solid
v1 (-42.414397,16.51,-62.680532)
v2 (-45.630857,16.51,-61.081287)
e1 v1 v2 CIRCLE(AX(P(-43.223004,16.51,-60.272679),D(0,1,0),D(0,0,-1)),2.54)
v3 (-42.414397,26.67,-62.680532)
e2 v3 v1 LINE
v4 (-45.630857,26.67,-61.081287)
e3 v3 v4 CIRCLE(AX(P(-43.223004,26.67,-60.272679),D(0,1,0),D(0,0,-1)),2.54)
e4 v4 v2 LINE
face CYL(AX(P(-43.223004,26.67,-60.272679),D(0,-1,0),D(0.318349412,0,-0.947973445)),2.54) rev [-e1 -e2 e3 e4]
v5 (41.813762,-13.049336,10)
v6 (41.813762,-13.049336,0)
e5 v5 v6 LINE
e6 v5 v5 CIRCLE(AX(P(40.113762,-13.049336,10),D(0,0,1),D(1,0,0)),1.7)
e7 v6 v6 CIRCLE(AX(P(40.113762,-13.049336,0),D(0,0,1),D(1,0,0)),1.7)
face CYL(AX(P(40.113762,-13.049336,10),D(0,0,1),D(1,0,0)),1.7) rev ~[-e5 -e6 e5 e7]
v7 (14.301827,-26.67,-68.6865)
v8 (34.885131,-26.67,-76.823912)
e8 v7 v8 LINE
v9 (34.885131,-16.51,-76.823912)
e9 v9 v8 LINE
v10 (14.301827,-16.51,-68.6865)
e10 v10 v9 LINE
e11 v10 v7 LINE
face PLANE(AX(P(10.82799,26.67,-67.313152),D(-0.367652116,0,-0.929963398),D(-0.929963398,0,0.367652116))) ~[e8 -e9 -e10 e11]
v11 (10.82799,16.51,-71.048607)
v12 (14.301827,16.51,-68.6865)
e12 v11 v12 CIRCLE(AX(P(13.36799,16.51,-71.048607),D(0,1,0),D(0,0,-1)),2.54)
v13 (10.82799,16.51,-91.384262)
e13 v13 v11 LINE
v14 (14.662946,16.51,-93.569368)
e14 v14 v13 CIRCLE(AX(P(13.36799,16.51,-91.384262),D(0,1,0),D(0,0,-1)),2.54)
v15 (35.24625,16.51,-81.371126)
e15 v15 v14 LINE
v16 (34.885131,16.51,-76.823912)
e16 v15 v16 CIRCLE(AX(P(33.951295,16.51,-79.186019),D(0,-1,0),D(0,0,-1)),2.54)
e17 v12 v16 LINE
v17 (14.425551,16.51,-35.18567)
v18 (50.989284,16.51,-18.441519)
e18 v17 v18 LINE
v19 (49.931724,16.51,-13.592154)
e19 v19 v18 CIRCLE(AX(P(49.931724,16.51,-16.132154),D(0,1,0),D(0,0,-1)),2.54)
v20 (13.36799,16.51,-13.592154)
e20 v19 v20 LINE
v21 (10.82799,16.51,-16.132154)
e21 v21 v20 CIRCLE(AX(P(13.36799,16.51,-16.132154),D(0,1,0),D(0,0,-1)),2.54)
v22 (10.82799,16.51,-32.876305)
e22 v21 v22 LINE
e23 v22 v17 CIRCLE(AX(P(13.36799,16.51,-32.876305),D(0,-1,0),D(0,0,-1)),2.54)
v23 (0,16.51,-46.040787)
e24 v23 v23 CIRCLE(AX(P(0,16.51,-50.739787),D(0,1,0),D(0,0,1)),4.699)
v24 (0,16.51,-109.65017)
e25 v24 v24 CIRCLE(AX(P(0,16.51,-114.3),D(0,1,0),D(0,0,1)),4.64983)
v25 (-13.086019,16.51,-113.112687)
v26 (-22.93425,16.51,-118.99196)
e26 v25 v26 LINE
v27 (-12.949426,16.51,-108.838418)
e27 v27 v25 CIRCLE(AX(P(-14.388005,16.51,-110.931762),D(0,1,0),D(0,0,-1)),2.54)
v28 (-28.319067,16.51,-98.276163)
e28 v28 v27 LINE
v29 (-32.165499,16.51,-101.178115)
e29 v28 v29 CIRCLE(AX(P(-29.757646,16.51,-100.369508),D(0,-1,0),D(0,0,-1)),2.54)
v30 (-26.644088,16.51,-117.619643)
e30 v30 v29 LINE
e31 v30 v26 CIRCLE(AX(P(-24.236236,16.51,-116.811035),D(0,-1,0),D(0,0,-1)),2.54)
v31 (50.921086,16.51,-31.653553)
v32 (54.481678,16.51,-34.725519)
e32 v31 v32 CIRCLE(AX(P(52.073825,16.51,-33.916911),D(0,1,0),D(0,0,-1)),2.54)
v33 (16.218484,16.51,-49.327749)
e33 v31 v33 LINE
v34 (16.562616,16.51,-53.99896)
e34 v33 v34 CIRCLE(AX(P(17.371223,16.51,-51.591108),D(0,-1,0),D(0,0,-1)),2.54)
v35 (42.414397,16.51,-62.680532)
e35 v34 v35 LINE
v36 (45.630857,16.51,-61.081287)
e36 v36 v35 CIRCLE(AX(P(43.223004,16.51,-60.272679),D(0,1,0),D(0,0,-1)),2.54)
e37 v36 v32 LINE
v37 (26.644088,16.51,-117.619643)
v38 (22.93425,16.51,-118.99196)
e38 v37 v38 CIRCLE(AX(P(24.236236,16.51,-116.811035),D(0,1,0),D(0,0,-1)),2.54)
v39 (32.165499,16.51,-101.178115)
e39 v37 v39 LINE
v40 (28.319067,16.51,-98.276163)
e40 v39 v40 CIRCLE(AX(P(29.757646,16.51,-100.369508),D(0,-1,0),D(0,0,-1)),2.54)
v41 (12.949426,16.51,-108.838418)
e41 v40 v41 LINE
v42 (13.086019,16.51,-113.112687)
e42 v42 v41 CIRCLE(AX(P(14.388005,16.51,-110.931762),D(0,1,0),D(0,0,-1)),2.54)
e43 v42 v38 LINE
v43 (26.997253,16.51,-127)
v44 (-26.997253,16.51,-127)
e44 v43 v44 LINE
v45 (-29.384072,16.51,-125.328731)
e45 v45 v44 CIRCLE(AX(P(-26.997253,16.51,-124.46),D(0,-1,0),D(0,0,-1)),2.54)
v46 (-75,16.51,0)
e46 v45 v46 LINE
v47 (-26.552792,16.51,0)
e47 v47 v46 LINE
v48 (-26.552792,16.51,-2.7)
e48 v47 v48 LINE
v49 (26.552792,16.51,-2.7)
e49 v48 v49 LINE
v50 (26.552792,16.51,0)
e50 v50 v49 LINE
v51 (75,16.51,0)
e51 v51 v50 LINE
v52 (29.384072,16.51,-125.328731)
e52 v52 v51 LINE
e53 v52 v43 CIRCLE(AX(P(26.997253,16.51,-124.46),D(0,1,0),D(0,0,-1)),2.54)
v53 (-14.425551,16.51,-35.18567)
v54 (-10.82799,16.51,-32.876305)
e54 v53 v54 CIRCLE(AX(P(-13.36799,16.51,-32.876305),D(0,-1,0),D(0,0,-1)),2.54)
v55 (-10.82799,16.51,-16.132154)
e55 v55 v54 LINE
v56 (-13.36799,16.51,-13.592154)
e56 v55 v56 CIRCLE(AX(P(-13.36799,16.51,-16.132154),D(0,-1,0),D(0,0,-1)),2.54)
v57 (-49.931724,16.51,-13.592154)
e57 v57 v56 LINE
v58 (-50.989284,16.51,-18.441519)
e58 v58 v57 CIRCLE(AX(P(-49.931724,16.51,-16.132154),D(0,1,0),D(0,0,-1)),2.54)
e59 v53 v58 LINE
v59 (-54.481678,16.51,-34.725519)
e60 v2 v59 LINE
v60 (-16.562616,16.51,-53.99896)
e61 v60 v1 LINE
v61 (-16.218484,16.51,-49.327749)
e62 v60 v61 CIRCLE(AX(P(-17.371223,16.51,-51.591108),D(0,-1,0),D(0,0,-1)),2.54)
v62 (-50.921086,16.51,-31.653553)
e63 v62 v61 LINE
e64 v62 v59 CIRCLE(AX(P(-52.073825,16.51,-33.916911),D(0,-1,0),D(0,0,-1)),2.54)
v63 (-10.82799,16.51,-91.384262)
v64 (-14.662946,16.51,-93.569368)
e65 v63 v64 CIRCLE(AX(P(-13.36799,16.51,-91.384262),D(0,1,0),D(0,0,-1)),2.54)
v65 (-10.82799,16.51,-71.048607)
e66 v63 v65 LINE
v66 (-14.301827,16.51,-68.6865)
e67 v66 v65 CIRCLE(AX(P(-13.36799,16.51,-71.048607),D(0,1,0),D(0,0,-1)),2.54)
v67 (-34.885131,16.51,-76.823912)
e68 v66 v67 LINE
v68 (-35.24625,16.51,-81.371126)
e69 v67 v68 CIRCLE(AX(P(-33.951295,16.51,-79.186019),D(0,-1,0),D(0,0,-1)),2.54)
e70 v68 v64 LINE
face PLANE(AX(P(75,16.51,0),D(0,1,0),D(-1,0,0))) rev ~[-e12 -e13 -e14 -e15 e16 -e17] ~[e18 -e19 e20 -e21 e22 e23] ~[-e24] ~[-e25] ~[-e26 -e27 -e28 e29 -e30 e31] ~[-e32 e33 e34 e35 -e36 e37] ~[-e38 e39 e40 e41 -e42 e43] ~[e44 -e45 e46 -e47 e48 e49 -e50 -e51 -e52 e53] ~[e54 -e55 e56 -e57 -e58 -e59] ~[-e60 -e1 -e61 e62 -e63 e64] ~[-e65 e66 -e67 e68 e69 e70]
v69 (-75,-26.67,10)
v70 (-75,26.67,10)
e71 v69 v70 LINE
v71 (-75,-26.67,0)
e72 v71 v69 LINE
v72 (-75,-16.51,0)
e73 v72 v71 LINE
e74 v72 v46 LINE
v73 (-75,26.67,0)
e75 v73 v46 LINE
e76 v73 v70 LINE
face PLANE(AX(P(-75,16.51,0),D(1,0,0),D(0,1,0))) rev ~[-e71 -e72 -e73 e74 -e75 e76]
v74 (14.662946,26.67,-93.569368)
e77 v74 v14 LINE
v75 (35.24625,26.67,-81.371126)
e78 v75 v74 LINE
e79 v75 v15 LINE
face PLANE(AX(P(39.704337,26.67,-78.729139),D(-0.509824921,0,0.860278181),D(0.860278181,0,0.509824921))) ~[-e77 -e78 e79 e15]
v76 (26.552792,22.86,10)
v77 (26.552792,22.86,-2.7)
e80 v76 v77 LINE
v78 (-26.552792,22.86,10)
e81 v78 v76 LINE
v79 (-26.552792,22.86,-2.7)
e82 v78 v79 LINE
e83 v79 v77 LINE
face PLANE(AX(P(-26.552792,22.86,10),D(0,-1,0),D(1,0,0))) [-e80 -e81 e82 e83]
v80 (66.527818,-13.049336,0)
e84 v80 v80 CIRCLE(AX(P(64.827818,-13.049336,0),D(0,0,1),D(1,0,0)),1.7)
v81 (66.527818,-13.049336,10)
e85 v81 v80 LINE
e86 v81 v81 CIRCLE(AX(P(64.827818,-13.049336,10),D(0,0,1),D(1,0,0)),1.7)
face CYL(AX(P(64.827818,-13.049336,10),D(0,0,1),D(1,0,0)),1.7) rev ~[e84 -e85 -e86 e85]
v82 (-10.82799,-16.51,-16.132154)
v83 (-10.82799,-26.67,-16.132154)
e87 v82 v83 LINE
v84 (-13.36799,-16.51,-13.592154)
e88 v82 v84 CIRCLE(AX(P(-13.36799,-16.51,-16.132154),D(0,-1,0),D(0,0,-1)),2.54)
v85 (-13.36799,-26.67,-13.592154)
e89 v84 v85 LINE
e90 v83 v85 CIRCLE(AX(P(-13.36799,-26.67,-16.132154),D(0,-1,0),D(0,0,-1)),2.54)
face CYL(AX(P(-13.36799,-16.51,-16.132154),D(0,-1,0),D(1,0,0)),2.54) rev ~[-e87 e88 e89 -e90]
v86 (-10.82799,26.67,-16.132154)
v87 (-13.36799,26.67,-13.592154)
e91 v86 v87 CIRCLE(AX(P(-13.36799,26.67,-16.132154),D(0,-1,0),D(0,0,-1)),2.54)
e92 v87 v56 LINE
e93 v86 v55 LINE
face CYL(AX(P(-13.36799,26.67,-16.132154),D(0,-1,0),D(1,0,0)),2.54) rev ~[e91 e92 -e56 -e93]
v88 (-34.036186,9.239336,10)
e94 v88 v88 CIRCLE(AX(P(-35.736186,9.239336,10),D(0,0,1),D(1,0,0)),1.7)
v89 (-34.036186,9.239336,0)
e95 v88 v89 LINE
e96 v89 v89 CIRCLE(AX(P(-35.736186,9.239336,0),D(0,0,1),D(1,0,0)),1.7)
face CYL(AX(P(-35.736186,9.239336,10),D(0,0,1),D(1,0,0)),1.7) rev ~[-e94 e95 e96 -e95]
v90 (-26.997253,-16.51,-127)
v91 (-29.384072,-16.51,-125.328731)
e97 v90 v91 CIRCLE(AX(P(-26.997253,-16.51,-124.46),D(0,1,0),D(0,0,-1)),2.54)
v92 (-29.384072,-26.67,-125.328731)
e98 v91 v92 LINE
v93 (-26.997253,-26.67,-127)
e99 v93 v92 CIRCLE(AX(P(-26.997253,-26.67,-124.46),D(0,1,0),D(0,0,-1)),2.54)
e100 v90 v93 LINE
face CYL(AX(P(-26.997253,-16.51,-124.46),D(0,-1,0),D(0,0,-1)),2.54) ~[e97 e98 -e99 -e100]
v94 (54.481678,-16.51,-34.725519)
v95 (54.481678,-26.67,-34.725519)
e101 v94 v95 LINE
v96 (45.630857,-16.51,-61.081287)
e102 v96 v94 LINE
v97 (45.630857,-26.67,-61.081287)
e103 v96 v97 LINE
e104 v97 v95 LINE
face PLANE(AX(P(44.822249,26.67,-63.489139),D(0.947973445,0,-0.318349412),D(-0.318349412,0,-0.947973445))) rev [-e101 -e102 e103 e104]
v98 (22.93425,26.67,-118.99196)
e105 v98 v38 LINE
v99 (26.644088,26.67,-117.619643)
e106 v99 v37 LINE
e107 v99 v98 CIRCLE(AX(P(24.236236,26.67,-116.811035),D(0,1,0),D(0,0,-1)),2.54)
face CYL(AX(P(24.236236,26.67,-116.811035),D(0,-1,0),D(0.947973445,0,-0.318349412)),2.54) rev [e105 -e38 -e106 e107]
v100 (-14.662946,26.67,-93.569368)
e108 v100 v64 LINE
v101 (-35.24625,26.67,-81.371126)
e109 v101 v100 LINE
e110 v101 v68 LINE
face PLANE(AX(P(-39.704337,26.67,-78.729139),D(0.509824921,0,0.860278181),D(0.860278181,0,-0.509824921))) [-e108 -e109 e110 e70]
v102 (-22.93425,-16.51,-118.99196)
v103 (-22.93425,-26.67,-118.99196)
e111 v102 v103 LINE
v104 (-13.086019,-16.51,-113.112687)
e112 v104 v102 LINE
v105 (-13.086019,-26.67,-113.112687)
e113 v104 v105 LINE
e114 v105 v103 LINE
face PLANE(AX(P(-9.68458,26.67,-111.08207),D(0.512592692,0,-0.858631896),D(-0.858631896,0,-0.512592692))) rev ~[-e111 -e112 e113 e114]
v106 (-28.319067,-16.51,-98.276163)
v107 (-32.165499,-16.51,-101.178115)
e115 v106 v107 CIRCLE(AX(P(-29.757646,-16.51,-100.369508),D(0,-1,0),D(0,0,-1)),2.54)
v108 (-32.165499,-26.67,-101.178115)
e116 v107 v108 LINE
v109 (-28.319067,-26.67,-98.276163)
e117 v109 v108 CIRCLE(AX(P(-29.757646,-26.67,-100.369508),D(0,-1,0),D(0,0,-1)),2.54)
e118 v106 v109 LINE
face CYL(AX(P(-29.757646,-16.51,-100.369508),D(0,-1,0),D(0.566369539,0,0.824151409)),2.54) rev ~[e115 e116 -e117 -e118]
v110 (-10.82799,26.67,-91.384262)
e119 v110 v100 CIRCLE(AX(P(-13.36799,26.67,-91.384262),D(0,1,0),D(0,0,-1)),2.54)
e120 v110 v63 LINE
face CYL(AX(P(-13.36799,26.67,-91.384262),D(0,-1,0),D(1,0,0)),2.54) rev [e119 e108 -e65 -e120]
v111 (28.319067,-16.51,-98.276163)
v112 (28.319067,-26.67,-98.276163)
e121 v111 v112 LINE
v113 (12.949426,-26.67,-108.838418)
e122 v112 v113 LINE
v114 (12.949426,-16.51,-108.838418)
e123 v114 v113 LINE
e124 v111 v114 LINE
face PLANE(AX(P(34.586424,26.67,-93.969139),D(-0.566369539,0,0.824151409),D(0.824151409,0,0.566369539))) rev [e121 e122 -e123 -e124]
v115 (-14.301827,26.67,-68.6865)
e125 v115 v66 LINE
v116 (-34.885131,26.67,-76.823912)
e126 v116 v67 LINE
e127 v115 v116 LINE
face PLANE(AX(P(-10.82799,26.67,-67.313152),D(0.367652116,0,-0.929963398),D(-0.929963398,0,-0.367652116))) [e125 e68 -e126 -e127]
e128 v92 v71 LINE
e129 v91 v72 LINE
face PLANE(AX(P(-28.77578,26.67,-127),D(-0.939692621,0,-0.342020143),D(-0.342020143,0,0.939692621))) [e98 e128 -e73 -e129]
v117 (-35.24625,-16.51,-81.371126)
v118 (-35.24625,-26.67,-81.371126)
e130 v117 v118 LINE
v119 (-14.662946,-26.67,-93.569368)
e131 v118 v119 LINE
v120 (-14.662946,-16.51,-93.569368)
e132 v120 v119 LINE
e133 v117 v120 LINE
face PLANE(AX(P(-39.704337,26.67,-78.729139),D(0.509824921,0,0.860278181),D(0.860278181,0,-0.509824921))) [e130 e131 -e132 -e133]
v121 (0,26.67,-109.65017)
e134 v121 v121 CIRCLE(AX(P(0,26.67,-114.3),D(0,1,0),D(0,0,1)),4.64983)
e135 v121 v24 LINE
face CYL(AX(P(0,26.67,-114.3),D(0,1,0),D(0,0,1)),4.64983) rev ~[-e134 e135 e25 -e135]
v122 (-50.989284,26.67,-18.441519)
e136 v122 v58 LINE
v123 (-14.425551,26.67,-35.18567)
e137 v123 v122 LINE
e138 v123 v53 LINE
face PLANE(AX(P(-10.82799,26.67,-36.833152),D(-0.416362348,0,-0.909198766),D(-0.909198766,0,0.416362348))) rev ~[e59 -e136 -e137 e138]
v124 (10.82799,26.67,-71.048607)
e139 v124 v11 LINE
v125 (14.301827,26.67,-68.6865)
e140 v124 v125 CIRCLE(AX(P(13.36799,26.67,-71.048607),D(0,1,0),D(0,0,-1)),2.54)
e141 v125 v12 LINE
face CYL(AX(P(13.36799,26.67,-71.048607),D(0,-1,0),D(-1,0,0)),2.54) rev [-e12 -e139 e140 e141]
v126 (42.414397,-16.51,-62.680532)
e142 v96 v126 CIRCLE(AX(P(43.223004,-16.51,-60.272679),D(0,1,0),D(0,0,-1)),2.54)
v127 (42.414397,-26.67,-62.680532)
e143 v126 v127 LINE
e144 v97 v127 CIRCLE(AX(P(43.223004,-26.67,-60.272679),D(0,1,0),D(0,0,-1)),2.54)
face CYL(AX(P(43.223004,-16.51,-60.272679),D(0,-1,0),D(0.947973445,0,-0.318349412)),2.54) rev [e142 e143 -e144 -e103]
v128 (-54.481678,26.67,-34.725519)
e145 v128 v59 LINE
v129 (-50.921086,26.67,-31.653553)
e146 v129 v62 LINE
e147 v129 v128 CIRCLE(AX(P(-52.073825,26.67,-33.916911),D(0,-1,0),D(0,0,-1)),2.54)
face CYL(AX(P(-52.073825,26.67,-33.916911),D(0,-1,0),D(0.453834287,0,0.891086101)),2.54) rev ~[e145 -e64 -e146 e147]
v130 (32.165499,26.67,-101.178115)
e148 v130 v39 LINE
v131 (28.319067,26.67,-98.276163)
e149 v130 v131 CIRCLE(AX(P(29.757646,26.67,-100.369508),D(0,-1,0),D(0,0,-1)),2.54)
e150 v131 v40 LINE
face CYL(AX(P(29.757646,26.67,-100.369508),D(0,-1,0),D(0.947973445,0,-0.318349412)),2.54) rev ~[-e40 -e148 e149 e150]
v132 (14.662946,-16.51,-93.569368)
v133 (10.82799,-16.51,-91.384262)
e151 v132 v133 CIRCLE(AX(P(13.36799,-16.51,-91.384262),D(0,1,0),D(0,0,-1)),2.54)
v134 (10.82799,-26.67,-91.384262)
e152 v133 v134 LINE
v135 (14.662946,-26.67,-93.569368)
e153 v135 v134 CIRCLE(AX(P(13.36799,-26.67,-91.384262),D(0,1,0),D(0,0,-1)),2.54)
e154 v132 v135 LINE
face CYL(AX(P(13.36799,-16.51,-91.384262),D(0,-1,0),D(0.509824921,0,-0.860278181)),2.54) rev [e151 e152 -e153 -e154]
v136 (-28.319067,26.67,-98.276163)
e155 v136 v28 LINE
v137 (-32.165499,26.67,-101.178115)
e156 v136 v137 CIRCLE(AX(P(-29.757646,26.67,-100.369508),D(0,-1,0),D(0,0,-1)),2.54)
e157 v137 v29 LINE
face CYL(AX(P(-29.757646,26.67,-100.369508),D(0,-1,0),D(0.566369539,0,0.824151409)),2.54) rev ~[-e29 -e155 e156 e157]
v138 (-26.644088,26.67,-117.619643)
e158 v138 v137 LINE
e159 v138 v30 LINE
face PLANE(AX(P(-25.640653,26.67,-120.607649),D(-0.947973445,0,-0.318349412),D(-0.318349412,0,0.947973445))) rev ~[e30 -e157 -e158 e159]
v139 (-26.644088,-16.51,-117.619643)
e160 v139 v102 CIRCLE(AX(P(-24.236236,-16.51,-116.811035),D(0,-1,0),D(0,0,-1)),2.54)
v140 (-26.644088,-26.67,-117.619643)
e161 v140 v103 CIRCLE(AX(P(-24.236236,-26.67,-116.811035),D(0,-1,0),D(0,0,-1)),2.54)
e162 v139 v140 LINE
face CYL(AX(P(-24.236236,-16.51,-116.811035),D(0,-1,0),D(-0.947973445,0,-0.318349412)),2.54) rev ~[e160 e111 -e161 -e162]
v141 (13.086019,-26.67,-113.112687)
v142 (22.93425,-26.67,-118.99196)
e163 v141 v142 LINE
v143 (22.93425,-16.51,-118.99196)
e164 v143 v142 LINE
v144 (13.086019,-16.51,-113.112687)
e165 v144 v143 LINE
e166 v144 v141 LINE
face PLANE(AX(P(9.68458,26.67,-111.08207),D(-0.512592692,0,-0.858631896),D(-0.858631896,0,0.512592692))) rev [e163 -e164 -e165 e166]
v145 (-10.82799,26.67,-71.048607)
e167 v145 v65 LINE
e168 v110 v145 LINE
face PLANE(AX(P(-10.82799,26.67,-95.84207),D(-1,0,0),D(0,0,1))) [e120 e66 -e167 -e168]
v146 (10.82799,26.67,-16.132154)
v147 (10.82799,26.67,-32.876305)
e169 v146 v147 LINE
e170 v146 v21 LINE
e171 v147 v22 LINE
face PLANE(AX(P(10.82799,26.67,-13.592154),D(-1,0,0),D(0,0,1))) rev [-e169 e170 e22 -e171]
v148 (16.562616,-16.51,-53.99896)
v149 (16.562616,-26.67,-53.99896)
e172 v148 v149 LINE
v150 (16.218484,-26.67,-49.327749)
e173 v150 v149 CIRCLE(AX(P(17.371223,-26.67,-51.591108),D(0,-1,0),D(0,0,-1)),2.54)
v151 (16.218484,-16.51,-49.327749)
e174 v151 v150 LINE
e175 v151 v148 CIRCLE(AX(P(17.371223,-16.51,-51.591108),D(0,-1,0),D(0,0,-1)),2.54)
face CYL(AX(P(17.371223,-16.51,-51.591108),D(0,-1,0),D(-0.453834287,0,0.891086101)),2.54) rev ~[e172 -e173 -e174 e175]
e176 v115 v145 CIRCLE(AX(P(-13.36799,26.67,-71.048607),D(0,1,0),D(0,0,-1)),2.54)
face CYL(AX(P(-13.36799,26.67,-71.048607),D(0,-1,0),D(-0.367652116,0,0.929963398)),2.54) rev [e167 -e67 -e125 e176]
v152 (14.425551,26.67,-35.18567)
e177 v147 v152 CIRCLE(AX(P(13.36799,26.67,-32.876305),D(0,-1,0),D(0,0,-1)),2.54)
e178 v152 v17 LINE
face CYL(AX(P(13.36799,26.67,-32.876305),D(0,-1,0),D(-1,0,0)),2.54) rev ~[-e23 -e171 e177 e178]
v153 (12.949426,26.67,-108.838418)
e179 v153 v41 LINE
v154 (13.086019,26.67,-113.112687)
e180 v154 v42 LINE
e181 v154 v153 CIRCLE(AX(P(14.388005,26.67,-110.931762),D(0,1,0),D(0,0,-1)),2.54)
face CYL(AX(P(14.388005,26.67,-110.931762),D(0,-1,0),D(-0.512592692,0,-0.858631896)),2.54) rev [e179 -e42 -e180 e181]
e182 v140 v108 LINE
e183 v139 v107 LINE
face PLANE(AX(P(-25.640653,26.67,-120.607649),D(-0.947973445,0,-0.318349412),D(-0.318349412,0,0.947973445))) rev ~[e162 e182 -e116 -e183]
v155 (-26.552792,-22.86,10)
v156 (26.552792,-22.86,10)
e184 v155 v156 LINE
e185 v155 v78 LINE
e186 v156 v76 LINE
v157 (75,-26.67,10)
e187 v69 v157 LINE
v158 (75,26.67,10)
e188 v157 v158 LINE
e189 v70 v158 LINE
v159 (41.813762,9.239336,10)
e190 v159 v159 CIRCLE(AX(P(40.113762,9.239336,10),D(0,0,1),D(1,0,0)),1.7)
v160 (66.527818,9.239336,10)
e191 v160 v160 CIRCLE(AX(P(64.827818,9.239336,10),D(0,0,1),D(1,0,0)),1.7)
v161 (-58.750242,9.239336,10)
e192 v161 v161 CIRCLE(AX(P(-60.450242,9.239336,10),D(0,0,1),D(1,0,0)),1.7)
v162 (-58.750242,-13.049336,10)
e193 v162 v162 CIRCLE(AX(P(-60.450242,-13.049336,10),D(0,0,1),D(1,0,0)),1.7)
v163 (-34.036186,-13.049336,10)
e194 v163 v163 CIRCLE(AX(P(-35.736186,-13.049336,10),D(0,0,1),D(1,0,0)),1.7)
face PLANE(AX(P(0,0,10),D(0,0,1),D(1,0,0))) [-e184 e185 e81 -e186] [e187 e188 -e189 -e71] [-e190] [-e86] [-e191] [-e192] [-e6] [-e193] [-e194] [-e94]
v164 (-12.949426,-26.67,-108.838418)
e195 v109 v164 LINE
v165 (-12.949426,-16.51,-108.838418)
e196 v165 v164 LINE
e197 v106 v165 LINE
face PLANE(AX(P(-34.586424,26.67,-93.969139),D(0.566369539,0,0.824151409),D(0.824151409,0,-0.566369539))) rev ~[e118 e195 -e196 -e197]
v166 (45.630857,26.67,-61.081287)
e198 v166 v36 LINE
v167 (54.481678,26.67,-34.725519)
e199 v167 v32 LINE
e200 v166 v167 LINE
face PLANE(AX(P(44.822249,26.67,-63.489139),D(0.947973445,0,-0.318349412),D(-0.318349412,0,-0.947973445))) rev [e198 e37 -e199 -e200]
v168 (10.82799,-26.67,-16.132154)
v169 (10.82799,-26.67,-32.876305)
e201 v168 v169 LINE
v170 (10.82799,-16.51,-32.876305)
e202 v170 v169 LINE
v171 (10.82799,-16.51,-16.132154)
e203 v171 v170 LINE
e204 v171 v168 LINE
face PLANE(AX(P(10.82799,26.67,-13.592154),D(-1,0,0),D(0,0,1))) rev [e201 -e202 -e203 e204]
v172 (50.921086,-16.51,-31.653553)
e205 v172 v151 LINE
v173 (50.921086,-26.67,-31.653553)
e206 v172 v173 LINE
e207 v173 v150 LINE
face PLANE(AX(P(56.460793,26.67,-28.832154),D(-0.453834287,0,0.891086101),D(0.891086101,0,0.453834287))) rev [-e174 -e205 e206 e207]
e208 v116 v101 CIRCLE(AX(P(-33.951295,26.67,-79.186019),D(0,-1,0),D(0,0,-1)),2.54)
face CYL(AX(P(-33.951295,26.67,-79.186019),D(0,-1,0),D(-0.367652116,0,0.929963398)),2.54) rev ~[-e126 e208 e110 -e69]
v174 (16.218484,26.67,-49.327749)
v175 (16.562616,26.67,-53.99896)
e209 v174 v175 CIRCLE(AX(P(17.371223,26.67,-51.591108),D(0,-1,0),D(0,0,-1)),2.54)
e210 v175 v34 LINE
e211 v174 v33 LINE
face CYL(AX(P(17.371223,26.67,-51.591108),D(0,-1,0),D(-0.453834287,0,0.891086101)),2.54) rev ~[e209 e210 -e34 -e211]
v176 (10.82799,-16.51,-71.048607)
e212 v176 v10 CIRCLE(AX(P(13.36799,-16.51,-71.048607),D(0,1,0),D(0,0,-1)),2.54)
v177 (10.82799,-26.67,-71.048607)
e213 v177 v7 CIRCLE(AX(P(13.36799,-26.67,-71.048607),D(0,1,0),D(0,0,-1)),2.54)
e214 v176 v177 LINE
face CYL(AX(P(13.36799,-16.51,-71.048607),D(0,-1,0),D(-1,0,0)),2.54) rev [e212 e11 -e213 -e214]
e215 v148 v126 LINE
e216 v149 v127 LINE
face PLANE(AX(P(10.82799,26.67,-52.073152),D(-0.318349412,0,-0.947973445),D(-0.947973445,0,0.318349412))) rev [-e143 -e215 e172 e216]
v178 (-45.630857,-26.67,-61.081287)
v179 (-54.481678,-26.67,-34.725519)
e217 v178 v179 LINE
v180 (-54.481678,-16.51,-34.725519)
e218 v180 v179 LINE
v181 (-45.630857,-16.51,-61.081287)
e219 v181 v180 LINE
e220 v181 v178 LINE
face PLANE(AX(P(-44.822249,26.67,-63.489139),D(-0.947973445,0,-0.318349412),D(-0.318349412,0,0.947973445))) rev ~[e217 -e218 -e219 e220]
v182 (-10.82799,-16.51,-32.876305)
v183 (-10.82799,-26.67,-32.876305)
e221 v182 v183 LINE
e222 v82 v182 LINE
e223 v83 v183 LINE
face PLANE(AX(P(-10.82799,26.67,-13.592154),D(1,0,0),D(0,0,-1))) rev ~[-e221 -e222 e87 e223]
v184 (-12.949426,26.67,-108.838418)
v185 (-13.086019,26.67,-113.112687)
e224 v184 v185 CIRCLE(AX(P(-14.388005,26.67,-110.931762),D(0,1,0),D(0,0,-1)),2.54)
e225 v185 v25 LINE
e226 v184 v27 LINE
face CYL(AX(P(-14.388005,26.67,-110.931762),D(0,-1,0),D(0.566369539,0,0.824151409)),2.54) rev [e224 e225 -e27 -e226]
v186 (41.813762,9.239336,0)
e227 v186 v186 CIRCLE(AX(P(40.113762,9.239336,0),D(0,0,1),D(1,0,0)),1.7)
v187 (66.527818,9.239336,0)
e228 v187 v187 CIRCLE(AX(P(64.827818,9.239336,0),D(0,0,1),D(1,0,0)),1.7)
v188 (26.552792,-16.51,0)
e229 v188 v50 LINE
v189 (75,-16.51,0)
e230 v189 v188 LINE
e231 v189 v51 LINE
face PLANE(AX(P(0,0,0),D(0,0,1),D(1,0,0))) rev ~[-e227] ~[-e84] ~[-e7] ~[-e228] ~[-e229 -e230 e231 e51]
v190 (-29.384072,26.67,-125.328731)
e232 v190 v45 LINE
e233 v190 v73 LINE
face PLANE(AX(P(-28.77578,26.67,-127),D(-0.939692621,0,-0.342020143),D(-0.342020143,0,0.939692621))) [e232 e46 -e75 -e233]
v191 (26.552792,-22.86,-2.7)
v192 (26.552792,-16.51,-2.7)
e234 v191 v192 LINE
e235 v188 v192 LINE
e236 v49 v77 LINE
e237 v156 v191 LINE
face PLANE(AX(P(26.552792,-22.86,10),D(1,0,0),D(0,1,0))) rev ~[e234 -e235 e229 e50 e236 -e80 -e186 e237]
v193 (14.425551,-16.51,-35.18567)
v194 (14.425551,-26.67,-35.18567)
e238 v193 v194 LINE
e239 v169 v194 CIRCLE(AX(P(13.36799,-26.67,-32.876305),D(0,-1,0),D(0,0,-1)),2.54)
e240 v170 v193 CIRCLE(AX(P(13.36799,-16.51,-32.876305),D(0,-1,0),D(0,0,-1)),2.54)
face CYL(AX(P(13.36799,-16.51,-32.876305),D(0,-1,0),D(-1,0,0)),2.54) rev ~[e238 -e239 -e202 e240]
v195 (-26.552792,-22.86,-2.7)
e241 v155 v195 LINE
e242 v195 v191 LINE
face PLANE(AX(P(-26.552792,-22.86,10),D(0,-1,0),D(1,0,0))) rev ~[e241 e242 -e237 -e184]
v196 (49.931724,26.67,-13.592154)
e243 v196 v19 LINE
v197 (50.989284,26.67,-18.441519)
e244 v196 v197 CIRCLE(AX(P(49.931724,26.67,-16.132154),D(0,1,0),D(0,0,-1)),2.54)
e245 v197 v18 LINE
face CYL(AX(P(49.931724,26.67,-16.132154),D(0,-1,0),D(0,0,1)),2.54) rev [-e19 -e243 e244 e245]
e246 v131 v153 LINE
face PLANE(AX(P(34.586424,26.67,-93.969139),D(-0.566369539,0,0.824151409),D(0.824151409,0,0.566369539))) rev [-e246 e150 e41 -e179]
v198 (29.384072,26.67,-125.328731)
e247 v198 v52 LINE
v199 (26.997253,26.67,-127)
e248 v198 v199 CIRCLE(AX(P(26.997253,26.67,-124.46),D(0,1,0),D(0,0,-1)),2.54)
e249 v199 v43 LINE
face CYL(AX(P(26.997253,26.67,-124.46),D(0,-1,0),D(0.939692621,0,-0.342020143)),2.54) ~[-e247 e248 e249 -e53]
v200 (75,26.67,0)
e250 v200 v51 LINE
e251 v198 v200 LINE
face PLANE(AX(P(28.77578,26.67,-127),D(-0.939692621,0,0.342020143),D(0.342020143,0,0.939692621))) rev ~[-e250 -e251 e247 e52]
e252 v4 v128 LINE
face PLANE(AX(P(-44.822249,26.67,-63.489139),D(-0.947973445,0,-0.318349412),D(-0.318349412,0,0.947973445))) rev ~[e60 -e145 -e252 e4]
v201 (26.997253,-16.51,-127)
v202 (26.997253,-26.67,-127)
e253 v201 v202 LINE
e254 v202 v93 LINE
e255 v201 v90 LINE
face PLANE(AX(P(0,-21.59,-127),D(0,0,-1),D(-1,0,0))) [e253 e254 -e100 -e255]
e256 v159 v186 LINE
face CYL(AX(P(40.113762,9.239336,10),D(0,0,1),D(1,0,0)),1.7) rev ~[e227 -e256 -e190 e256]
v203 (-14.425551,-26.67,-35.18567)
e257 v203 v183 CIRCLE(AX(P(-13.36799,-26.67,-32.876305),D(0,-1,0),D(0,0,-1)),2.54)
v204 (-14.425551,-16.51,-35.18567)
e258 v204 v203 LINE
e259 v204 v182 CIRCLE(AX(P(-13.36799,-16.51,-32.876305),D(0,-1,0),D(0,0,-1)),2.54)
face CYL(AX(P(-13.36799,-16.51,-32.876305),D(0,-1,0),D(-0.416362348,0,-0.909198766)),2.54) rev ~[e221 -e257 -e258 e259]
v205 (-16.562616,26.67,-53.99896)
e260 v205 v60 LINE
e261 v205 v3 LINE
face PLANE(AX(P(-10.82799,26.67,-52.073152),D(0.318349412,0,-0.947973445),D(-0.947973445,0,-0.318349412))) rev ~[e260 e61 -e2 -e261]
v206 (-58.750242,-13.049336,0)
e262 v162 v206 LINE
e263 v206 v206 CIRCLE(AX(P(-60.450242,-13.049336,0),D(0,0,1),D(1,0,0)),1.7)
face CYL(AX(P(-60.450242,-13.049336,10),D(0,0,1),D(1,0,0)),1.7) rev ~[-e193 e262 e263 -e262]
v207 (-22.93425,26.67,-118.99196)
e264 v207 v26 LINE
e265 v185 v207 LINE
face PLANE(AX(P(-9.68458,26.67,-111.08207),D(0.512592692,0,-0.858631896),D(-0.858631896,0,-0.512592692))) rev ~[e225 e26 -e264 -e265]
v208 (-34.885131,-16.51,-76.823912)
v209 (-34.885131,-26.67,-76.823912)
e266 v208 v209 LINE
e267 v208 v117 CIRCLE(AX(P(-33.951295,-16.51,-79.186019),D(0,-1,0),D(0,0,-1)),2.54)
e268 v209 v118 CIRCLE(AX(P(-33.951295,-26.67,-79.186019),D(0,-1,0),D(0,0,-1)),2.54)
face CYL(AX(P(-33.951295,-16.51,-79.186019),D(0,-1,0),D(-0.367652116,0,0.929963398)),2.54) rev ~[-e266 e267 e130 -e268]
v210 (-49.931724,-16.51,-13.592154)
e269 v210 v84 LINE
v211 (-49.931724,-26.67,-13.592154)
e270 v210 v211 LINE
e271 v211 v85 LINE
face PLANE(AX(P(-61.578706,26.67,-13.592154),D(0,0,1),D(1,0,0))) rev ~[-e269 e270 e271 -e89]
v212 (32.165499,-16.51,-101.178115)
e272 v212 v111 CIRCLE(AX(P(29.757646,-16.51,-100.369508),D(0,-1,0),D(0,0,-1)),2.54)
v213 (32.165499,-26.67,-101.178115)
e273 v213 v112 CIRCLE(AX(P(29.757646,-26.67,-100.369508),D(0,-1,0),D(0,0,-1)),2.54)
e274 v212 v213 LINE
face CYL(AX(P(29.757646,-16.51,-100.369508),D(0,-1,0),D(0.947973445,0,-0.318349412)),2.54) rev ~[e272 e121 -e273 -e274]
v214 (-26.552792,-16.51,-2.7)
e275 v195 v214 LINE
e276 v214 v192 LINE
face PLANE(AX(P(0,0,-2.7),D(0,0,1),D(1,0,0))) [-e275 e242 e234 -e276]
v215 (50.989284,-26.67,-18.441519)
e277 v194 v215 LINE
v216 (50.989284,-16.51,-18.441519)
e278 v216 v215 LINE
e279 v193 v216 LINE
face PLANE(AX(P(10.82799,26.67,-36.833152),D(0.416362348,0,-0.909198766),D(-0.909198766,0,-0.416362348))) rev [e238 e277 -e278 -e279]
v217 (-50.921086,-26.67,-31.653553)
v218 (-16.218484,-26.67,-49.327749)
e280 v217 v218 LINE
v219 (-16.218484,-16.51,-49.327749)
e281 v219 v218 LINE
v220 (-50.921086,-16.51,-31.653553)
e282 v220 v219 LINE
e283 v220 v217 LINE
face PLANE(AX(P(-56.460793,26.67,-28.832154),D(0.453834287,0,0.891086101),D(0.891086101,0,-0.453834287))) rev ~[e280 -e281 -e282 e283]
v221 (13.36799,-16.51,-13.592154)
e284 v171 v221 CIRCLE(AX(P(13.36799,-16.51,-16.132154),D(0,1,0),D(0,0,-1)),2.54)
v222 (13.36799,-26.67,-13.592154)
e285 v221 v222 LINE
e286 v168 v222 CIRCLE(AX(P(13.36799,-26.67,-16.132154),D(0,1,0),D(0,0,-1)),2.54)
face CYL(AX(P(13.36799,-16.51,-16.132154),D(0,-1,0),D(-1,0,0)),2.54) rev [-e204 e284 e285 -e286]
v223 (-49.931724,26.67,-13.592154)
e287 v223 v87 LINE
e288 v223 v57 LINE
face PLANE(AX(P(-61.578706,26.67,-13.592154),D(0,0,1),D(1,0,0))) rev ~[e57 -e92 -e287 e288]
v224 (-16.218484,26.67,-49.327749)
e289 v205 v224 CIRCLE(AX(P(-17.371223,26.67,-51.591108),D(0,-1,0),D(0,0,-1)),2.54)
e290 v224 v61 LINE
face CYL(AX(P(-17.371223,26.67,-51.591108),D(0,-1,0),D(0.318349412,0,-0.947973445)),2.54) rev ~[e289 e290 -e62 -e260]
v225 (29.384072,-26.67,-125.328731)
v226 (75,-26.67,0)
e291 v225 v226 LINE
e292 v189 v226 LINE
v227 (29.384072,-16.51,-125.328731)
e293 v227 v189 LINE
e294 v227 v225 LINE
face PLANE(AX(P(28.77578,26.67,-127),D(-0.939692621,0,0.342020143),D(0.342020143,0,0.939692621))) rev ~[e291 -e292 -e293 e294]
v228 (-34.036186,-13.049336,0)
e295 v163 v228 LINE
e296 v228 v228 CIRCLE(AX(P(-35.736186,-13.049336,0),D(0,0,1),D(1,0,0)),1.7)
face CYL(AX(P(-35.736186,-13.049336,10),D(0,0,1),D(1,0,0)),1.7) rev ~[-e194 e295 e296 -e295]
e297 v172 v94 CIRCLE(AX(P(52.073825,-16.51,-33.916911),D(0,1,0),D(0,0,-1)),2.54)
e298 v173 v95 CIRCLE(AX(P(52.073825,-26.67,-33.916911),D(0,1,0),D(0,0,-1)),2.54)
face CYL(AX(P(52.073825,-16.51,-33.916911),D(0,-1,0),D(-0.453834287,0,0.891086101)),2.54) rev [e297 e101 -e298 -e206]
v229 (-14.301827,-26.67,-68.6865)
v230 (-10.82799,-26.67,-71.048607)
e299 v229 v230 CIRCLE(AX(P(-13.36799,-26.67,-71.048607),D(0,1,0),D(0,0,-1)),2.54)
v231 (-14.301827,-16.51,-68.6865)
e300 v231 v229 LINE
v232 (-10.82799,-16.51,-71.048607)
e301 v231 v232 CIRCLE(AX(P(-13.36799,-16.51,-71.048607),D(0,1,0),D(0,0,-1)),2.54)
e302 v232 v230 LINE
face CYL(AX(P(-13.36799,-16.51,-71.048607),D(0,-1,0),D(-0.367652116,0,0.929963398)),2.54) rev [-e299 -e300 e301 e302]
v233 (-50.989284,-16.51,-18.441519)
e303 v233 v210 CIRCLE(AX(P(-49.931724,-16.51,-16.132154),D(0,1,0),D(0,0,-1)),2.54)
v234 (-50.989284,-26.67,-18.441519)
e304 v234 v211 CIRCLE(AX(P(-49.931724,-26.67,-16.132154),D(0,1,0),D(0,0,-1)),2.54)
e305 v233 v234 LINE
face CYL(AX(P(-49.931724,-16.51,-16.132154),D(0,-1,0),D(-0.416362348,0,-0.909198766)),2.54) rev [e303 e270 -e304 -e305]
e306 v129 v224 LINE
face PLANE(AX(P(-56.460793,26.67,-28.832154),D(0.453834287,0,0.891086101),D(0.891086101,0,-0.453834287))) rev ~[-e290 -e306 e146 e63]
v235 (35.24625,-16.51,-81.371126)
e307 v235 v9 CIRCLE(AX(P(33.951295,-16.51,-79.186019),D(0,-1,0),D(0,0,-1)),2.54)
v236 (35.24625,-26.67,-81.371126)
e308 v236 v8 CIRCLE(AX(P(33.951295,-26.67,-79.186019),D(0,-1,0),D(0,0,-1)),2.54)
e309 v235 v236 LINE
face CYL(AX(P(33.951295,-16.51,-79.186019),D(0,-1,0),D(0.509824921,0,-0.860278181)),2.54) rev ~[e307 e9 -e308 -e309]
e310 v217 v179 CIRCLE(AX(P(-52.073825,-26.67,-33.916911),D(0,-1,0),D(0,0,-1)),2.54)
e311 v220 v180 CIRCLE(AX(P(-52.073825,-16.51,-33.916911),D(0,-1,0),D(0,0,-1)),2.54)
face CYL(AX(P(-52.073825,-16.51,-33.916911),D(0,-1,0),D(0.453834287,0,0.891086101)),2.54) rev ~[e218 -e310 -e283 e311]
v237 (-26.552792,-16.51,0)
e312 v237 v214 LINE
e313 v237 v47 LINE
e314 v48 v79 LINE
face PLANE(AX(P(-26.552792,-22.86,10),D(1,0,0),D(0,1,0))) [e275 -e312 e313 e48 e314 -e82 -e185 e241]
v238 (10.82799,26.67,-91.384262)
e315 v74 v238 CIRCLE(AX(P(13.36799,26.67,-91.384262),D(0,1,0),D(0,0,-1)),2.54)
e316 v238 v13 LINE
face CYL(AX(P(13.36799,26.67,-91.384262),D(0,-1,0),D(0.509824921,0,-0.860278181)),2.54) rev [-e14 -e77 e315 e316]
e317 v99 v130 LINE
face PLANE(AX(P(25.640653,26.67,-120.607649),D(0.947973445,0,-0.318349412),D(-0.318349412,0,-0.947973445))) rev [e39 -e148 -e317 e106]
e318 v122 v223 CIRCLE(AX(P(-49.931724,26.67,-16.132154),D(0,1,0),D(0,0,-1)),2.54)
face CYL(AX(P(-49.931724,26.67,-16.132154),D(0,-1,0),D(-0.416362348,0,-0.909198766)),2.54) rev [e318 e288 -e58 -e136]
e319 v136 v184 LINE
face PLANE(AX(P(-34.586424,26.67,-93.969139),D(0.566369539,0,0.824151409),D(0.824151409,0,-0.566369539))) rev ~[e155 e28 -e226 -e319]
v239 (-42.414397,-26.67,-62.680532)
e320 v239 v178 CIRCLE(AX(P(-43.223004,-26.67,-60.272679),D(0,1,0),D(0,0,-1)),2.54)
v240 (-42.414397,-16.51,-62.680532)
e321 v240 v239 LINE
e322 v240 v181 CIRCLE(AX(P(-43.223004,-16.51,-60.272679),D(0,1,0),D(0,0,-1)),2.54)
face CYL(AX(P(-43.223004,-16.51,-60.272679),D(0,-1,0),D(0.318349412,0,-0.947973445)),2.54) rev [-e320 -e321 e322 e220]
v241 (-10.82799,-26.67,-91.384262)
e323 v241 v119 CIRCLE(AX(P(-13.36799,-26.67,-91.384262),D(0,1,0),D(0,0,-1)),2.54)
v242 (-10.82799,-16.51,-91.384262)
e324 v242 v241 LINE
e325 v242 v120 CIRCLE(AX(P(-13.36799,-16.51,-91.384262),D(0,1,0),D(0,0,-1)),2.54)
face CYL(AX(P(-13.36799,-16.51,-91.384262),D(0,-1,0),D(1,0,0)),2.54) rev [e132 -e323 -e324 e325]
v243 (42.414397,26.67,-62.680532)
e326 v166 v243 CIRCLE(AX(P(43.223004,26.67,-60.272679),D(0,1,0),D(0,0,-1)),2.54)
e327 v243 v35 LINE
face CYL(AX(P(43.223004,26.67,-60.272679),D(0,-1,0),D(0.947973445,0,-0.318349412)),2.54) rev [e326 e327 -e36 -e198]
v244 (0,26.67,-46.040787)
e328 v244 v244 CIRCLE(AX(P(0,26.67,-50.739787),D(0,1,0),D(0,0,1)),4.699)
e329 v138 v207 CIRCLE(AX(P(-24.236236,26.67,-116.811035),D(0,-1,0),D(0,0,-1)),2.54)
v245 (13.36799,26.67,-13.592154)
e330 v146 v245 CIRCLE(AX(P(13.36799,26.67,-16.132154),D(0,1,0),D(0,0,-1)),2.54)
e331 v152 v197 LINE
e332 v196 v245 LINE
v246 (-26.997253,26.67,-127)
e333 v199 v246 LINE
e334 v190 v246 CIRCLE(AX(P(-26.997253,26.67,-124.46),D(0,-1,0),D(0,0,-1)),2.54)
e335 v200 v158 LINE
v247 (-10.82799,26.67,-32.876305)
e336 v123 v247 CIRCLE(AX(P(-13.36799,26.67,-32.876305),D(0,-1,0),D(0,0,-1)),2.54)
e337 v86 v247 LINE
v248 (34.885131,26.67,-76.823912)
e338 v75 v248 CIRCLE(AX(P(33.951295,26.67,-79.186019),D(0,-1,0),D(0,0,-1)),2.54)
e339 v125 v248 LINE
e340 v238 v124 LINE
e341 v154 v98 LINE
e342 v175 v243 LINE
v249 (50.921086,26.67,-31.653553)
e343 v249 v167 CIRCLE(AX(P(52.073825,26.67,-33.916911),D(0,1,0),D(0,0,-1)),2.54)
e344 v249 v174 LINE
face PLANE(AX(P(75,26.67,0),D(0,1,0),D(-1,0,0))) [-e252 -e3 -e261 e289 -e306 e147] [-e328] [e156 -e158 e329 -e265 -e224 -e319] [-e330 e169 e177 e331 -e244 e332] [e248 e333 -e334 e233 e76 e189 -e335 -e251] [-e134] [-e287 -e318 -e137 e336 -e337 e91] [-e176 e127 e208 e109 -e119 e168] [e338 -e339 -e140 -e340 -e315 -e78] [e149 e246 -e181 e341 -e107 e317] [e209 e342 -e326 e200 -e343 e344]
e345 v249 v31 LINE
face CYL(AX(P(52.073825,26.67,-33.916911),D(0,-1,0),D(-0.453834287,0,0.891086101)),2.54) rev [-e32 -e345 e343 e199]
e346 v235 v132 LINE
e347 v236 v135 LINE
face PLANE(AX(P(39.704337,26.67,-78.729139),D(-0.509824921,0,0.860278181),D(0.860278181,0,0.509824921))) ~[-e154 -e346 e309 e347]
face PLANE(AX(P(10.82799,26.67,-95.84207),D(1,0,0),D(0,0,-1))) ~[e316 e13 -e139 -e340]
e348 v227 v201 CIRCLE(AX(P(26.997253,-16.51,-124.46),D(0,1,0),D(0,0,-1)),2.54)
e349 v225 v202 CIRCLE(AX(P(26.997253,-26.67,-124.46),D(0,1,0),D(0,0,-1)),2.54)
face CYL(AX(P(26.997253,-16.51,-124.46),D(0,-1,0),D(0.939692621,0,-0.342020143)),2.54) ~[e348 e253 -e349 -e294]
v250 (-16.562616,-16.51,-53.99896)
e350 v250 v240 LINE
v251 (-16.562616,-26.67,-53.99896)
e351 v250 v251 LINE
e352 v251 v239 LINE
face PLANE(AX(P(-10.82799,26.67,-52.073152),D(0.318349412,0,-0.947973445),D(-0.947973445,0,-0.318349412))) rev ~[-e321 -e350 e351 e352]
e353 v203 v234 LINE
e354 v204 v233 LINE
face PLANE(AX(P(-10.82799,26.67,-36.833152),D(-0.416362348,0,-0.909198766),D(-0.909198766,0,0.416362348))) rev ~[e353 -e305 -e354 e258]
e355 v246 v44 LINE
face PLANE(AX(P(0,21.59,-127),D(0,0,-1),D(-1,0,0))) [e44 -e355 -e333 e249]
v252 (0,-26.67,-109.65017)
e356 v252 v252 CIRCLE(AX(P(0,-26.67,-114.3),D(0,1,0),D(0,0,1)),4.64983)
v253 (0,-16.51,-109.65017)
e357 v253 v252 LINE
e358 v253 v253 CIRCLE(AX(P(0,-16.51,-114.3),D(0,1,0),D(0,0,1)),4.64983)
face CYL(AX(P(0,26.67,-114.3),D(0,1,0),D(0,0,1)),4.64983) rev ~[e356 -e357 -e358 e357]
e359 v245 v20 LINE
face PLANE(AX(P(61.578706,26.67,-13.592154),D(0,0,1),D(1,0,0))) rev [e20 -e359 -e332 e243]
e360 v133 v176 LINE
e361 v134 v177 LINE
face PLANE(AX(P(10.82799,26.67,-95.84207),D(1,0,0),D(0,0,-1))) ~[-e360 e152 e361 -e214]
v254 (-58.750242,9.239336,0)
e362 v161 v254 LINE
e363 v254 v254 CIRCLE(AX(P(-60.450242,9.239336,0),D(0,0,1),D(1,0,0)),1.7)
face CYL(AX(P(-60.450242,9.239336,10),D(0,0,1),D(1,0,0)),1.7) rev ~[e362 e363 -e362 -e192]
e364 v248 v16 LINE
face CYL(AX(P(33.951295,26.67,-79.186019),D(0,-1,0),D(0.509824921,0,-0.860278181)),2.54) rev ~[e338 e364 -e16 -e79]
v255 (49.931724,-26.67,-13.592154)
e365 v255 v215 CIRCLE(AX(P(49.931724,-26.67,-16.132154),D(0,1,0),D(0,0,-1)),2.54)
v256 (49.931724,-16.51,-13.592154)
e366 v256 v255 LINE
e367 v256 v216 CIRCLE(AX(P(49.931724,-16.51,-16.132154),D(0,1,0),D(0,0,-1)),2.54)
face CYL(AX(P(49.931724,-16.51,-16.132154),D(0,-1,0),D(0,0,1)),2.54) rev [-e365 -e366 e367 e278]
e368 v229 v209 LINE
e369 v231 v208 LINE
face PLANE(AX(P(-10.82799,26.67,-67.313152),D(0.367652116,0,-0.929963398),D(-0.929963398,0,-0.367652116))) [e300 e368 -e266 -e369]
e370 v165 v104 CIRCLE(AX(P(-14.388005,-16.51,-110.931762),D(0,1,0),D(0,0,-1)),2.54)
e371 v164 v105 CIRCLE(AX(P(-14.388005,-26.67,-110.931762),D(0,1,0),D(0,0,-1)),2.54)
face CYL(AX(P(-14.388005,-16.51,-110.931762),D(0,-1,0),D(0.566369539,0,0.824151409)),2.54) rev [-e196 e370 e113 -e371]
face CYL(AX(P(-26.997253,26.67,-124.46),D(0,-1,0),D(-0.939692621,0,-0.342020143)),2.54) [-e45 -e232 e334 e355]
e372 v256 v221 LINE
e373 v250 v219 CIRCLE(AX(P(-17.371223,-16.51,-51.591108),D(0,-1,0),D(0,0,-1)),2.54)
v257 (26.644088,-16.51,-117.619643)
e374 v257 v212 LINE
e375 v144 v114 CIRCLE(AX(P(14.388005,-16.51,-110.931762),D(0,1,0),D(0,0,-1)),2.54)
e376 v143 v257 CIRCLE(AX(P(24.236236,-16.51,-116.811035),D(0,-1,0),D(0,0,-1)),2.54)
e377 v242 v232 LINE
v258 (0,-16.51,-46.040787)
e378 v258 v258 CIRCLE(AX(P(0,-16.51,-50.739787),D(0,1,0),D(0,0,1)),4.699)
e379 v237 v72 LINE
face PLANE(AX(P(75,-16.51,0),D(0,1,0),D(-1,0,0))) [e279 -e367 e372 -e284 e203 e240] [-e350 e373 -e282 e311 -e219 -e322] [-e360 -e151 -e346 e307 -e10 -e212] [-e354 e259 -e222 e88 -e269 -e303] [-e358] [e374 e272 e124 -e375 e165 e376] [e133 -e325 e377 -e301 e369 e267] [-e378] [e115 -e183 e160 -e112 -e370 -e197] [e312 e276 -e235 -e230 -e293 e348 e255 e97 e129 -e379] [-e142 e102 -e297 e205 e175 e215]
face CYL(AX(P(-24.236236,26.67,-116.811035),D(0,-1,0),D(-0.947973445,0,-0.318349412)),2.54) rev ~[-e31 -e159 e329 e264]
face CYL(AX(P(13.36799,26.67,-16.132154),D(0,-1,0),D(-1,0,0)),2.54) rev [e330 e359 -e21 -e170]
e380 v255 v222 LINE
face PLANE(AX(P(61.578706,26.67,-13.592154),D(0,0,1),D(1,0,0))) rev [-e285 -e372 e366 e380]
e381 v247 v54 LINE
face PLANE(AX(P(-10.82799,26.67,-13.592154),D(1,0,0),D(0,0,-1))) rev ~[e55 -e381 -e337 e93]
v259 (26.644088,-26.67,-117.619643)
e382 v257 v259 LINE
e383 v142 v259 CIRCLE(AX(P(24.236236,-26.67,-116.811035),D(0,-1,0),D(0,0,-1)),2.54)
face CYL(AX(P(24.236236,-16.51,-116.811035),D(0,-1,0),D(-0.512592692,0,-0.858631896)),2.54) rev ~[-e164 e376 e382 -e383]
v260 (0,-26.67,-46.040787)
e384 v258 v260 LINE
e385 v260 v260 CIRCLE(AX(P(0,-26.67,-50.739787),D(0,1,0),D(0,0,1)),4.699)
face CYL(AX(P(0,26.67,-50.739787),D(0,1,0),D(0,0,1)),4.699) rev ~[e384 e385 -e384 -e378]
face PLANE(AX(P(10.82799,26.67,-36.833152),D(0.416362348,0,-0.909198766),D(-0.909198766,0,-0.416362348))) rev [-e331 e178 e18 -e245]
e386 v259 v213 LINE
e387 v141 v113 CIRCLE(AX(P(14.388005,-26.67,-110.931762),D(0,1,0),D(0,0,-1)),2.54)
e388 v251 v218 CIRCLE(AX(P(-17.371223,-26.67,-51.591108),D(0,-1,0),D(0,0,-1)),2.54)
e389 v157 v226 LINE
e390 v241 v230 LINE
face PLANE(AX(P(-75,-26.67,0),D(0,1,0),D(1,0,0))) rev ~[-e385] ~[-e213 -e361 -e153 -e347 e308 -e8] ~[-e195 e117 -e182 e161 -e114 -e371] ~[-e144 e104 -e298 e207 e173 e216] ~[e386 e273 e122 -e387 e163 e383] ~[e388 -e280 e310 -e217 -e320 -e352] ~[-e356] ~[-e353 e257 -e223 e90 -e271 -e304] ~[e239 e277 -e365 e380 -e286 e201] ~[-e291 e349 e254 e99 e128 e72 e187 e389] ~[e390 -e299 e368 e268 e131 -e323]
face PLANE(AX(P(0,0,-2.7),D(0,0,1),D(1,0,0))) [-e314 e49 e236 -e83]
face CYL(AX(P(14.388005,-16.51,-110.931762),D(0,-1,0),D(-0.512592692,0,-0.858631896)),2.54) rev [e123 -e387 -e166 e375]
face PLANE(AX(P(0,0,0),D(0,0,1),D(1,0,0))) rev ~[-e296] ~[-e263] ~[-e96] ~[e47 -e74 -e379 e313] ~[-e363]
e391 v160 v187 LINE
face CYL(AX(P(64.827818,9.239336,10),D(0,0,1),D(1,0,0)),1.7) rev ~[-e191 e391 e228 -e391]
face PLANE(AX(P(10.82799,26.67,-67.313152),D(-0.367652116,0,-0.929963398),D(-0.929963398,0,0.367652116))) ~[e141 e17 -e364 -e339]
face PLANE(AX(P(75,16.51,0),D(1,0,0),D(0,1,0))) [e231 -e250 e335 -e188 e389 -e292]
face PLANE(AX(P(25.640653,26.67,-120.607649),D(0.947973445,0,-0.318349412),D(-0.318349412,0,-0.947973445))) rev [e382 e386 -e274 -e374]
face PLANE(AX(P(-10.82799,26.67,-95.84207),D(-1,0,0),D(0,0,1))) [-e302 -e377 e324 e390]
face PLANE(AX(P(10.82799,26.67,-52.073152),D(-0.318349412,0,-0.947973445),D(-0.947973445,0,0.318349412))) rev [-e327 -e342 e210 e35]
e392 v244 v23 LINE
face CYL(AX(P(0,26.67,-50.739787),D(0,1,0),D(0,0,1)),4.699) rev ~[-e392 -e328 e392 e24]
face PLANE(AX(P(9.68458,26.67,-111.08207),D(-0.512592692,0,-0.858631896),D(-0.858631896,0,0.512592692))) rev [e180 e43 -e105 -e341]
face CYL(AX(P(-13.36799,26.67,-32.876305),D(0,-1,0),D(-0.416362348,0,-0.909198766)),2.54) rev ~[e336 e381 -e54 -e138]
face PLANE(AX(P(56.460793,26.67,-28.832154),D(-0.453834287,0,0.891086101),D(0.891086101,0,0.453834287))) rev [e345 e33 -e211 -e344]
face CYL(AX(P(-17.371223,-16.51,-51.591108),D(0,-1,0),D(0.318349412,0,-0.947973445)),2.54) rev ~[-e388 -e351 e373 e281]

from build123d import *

# Parameters (mm, degrees)
SKETCH1_W           = 150
SKETCH1_H           = 53.34
BOSS_EXTRUDE1_DEPTH = 10
SKETCH4_W           = 150
SKETCH4_H           = 10.16
BOSS_EXTRUDE3_DEPTH = 127
CUT_EXTRUDE1_DEPTH  = 83.82
FILLET1_R           = 2.54
SKETCH7_R           = 4.649830258
CUT_EXTRUDE2_DEPTH  = 83.82
SKETCH8_W           = 53.10558352
SKETCH8_H           = 45.72
CUT_EXTRUDE3_DEPTH  = 12.7
CUT_EXTRUDE4_DEPTH  = 157.841179542
FILLET2_R           = 2.54
FILLET3_R           = 2.54
CUT_EXTRUDE5_REACH  = 160.446
SKETCH10_R          = 1.7
SKETCH11_R          = 4.699
CUT_EXTRUDE6_DEPTH  = 157.841179542


with BuildPart() as part:
    # Sketch1 → Boss-Extrude1 (new body)
    with BuildSketch(Plane.XY):
        Rectangle(SKETCH1_W, SKETCH1_H)
    extrude(amount=BOSS_EXTRUDE1_DEPTH)

    # Sketch4 → Boss-Extrude3 (add)
    with BuildSketch(Plane(origin=(0, 0, 0), x_dir=(-1, 0, 0), z_dir=(0, 0, -1))):
        with Locations((0, 21.59)):
            Rectangle(SKETCH4_W, SKETCH4_H)
        with Locations((0, -21.59)):
            Rectangle(SKETCH4_W, SKETCH4_H)
    extrude(amount=BOSS_EXTRUDE3_DEPTH)

    # Sketch6 → Cut-Extrude1 (cut)
    with BuildSketch(Plane(origin=(0, 26.67, 0), x_dir=(1, 0, 0), z_dir=(0, 1, 0))):
        Polygon((28.775780248, 127), (75, 0), (75, 127), align=None)
        Polygon((-75, 0), (-75, 127), (-28.775780248, 127), align=None)
    extrude(amount=-CUT_EXTRUDE1_DEPTH, mode=Mode.SUBTRACT)

    # Fillet1
    fillet1_edges = [part.edges().sort_by_distance(p)[0] for p in [
        (28.775780248, 21.59, -127),
        (-28.775780248, 21.59, -127),
        (-28.775780248, -21.59, -127),
        (28.775780248, -21.59, -127),
    ]]
    fillet(fillet1_edges, radius=FILLET1_R)

    # Sketch7 → Cut-Extrude2 (cut)
    with BuildSketch(Plane(origin=(0, 26.67, 0), x_dir=(1, 0, 0), z_dir=(0, 1, 0))):
        with Locations(Location((0, 114.3, 0), (0, 0, 270))):
            Circle(SKETCH7_R)
    extrude(amount=-CUT_EXTRUDE2_DEPTH, mode=Mode.SUBTRACT)

    # Sketch8 → Cut-Extrude3 (cut)
    with BuildSketch(Plane.XY.offset(10)):
        Rectangle(SKETCH8_W, SKETCH8_H)
    extrude(amount=-CUT_EXTRUDE3_DEPTH, mode=Mode.SUBTRACT)

    # Sketch9 → Cut-Extrude4 (cut, through all)
    with BuildSketch(Plane(origin=(0, 26.67, 0), x_dir=(1, 0, 0), z_dir=(0, 1, 0))):
        Polygon((-34.586424408, 93.969139079), (-9.684580109, 111.082069913), (-25.640652678, 120.607649188), align=None)
        Polygon((-39.704336807, 78.729139079), (-10.827990436, 95.842069913), (-10.827990436, 67.313152305), align=None)
        Polygon((-10.827990436, 52.073152305), (-44.822249205, 63.489139079), (-56.460793416, 28.832153973), align=None)
        Polygon((-10.827990436, 36.833152305), (-61.578705814, 13.592153973), (-10.827990436, 13.592153973), align=None)
    cut_extrude4 = extrude(amount=-CUT_EXTRUDE4_DEPTH, mode=Mode.SUBTRACT)

    # Mirror1: Cut-Extrude4 across plane
    add(cut_extrude4.mirror(Plane(origin=(0, 0, 0), x_dir=(0, 0, 1), z_dir=(1, 0, 0))), mode=Mode.SUBTRACT)

    # Fillet2
    fillet2_edges = [part.edges().sort_by_distance(p)[0] for p in [
        (-10.827990436, 21.59, -67.313152305),
        (-39.704336807, -21.59, -78.729139079),
        (-39.704336807, 21.59, -78.729139079),
        (-10.827990436, 21.59, -95.842069913),
        (-10.827990436, 21.59, -52.073152305),
        (-56.460793416, 21.59, -28.832153973),
        (-44.822249205, 21.59, -63.489139079),
        (-10.827990436, 21.59, -36.833152305),
        (-10.827990436, 21.59, -13.592153973),
        (-61.578705814, 21.59, -13.592153973),
        (-34.586424408, 21.59, -93.969139079),
        (-25.640652678, 21.59, -120.607649188),
        (-9.684580109, 21.59, -111.082069913),
        (39.704336807, 21.59, -78.729139079),
        (10.827990436, 21.59, -67.313152305),
        (10.827990436, 21.59, -95.842069913),
        (56.460793416, 21.59, -28.832153973),
        (10.827990436, 21.59, -52.073152305),
        (44.822249205, 21.59, -63.489139079),
        (10.827990436, 21.59, -13.592153973),
        (10.827990436, 21.59, -36.833152305),
        (61.578705814, 21.59, -13.592153973),
        (25.640652678, 21.59, -120.607649188),
        (34.586424408, 21.59, -93.969139079),
        (9.684580109, -21.59, -111.082069913),
        (9.684580109, 21.59, -111.082069913),
    ]]
    fillet(fillet2_edges, radius=FILLET2_R)

    # Fillet3
    fillet3_edges = [part.edges().sort_by_distance(p)[0] for p in [
        (-10.827990436, -21.59, -67.313152305),
        (-10.827990436, -21.59, -95.842069913),
        (-10.827990436, -21.59, -52.073152305),
        (-56.460793416, -21.59, -28.832153973),
        (-44.822249205, -21.59, -63.489139079),
        (-10.827990436, -21.59, -36.833152305),
        (-10.827990436, -21.59, -13.592153973),
        (-61.578705814, -21.59, -13.592153973),
        (-34.586424408, -21.59, -93.969139079),
        (-25.640652678, -21.59, -120.607649188),
        (-9.684580109, -21.59, -111.082069913),
        (39.704336807, -21.59, -78.729139079),
        (10.827990436, -21.59, -67.313152305),
        (10.827990436, -21.59, -95.842069913),
        (56.460793416, -21.59, -28.832153973),
        (10.827990436, -21.59, -52.073152305),
        (44.822249205, -21.59, -63.489139079),
        (10.827990436, -21.59, -13.592153973),
        (10.827990436, -21.59, -36.833152305),
        (61.578705814, -21.59, -13.592153973),
        (25.640652678, -21.59, -120.607649188),
        (34.586424408, -21.59, -93.969139079),
    ]]
    fillet(fillet3_edges, radius=FILLET3_R)

    # Sketch10 → Cut-Extrude5 (cut, up to next)
    with BuildSketch(Plane.XY.offset(10), mode=Mode.PRIVATE) as cut_extrude5_sk1:
        with Locations((40.113762047, 9.239336029)):
            Circle(SKETCH10_R)
    cut_extrude5_tool1 = extrude(cut_extrude5_sk1.sketch, amount=-CUT_EXTRUDE5_REACH, mode=Mode.PRIVATE) & part.part
    # Sketch10 → Cut-Extrude5 (cut, up to next)
    with BuildSketch(Plane.XY.offset(10), mode=Mode.PRIVATE) as cut_extrude5_sk2:
        with Locations((64.827817703, 9.239336029)):
            Circle(SKETCH10_R)
    cut_extrude5_tool2 = extrude(cut_extrude5_sk2.sketch, amount=-CUT_EXTRUDE5_REACH, mode=Mode.PRIVATE) & part.part
    # Sketch10 → Cut-Extrude5 (cut, up to next)
    with BuildSketch(Plane.XY.offset(10), mode=Mode.PRIVATE) as cut_extrude5_sk3:
        with Locations((64.827817703, -13.049336029)):
            Circle(SKETCH10_R)
    cut_extrude5_tool3 = extrude(cut_extrude5_sk3.sketch, amount=-CUT_EXTRUDE5_REACH, mode=Mode.PRIVATE) & part.part
    # Sketch10 → Cut-Extrude5 (cut, up to next)
    with BuildSketch(Plane.XY.offset(10), mode=Mode.PRIVATE) as cut_extrude5_sk4:
        with Locations((40.113762047, -13.049336029)):
            Circle(SKETCH10_R)
    cut_extrude5_tool4 = extrude(cut_extrude5_sk4.sketch, amount=-CUT_EXTRUDE5_REACH, mode=Mode.PRIVATE) & part.part
    # Sketch10 → Cut-Extrude5 (cut, up to next)
    with BuildSketch(Plane.XY.offset(10), mode=Mode.PRIVATE) as cut_extrude5_sk5:
        with Locations((-60.450241723, 9.239336029)):
            Circle(SKETCH10_R)
    cut_extrude5_tool5 = extrude(cut_extrude5_sk5.sketch, amount=-CUT_EXTRUDE5_REACH, mode=Mode.PRIVATE) & part.part
    # Sketch10 → Cut-Extrude5 (cut, up to next)
    with BuildSketch(Plane.XY.offset(10), mode=Mode.PRIVATE) as cut_extrude5_sk6:
        with Locations((-35.736186067, 9.239336029)):
            Circle(SKETCH10_R)
    cut_extrude5_tool6 = extrude(cut_extrude5_sk6.sketch, amount=-CUT_EXTRUDE5_REACH, mode=Mode.PRIVATE) & part.part
    # Sketch10 → Cut-Extrude5 (cut, up to next)
    with BuildSketch(Plane.XY.offset(10), mode=Mode.PRIVATE) as cut_extrude5_sk7:
        with Locations((-35.736186067, -13.049336029)):
            Circle(SKETCH10_R)
    cut_extrude5_tool7 = extrude(cut_extrude5_sk7.sketch, amount=-CUT_EXTRUDE5_REACH, mode=Mode.PRIVATE) & part.part
    # Sketch10 → Cut-Extrude5 (cut, up to next)
    with BuildSketch(Plane.XY.offset(10), mode=Mode.PRIVATE) as cut_extrude5_sk8:
        with Locations((-60.450241723, -13.049336029)):
            Circle(SKETCH10_R)
    cut_extrude5_tool8 = extrude(cut_extrude5_sk8.sketch, amount=-CUT_EXTRUDE5_REACH, mode=Mode.PRIVATE) & part.part
    add(cut_extrude5_tool1.solids().sort_by_distance((40.113762, 9.239336, 10))[0], mode=Mode.SUBTRACT)
    add(cut_extrude5_tool2.solids().sort_by_distance((64.827818, 9.239336, 10))[0], mode=Mode.SUBTRACT)
    add(cut_extrude5_tool3.solids().sort_by_distance((64.827818, -13.049336, 10))[0], mode=Mode.SUBTRACT)
    add(cut_extrude5_tool4.solids().sort_by_distance((40.113762, -13.049336, 10))[0], mode=Mode.SUBTRACT)
    add(cut_extrude5_tool5.solids().sort_by_distance((-60.450242, 9.239336, 10))[0], mode=Mode.SUBTRACT)
    add(cut_extrude5_tool6.solids().sort_by_distance((-35.736186, 9.239336, 10))[0], mode=Mode.SUBTRACT)
    add(cut_extrude5_tool7.solids().sort_by_distance((-35.736186, -13.049336, 10))[0], mode=Mode.SUBTRACT)
    add(cut_extrude5_tool8.solids().sort_by_distance((-60.450242, -13.049336, 10))[0], mode=Mode.SUBTRACT)

    # Sketch11 → Cut-Extrude6 (cut, through all)
    with BuildSketch(Plane(origin=(0, 26.67, 0), x_dir=(1, 0, 0), z_dir=(0, 1, 0))):
        with Locations(Location((0, 50.739787161, 0), (0, 0, 270))):
            Circle(SKETCH11_R)
    extrude(amount=-CUT_EXTRUDE6_DEPTH, mode=Mode.SUBTRACT)


solid = part.part
